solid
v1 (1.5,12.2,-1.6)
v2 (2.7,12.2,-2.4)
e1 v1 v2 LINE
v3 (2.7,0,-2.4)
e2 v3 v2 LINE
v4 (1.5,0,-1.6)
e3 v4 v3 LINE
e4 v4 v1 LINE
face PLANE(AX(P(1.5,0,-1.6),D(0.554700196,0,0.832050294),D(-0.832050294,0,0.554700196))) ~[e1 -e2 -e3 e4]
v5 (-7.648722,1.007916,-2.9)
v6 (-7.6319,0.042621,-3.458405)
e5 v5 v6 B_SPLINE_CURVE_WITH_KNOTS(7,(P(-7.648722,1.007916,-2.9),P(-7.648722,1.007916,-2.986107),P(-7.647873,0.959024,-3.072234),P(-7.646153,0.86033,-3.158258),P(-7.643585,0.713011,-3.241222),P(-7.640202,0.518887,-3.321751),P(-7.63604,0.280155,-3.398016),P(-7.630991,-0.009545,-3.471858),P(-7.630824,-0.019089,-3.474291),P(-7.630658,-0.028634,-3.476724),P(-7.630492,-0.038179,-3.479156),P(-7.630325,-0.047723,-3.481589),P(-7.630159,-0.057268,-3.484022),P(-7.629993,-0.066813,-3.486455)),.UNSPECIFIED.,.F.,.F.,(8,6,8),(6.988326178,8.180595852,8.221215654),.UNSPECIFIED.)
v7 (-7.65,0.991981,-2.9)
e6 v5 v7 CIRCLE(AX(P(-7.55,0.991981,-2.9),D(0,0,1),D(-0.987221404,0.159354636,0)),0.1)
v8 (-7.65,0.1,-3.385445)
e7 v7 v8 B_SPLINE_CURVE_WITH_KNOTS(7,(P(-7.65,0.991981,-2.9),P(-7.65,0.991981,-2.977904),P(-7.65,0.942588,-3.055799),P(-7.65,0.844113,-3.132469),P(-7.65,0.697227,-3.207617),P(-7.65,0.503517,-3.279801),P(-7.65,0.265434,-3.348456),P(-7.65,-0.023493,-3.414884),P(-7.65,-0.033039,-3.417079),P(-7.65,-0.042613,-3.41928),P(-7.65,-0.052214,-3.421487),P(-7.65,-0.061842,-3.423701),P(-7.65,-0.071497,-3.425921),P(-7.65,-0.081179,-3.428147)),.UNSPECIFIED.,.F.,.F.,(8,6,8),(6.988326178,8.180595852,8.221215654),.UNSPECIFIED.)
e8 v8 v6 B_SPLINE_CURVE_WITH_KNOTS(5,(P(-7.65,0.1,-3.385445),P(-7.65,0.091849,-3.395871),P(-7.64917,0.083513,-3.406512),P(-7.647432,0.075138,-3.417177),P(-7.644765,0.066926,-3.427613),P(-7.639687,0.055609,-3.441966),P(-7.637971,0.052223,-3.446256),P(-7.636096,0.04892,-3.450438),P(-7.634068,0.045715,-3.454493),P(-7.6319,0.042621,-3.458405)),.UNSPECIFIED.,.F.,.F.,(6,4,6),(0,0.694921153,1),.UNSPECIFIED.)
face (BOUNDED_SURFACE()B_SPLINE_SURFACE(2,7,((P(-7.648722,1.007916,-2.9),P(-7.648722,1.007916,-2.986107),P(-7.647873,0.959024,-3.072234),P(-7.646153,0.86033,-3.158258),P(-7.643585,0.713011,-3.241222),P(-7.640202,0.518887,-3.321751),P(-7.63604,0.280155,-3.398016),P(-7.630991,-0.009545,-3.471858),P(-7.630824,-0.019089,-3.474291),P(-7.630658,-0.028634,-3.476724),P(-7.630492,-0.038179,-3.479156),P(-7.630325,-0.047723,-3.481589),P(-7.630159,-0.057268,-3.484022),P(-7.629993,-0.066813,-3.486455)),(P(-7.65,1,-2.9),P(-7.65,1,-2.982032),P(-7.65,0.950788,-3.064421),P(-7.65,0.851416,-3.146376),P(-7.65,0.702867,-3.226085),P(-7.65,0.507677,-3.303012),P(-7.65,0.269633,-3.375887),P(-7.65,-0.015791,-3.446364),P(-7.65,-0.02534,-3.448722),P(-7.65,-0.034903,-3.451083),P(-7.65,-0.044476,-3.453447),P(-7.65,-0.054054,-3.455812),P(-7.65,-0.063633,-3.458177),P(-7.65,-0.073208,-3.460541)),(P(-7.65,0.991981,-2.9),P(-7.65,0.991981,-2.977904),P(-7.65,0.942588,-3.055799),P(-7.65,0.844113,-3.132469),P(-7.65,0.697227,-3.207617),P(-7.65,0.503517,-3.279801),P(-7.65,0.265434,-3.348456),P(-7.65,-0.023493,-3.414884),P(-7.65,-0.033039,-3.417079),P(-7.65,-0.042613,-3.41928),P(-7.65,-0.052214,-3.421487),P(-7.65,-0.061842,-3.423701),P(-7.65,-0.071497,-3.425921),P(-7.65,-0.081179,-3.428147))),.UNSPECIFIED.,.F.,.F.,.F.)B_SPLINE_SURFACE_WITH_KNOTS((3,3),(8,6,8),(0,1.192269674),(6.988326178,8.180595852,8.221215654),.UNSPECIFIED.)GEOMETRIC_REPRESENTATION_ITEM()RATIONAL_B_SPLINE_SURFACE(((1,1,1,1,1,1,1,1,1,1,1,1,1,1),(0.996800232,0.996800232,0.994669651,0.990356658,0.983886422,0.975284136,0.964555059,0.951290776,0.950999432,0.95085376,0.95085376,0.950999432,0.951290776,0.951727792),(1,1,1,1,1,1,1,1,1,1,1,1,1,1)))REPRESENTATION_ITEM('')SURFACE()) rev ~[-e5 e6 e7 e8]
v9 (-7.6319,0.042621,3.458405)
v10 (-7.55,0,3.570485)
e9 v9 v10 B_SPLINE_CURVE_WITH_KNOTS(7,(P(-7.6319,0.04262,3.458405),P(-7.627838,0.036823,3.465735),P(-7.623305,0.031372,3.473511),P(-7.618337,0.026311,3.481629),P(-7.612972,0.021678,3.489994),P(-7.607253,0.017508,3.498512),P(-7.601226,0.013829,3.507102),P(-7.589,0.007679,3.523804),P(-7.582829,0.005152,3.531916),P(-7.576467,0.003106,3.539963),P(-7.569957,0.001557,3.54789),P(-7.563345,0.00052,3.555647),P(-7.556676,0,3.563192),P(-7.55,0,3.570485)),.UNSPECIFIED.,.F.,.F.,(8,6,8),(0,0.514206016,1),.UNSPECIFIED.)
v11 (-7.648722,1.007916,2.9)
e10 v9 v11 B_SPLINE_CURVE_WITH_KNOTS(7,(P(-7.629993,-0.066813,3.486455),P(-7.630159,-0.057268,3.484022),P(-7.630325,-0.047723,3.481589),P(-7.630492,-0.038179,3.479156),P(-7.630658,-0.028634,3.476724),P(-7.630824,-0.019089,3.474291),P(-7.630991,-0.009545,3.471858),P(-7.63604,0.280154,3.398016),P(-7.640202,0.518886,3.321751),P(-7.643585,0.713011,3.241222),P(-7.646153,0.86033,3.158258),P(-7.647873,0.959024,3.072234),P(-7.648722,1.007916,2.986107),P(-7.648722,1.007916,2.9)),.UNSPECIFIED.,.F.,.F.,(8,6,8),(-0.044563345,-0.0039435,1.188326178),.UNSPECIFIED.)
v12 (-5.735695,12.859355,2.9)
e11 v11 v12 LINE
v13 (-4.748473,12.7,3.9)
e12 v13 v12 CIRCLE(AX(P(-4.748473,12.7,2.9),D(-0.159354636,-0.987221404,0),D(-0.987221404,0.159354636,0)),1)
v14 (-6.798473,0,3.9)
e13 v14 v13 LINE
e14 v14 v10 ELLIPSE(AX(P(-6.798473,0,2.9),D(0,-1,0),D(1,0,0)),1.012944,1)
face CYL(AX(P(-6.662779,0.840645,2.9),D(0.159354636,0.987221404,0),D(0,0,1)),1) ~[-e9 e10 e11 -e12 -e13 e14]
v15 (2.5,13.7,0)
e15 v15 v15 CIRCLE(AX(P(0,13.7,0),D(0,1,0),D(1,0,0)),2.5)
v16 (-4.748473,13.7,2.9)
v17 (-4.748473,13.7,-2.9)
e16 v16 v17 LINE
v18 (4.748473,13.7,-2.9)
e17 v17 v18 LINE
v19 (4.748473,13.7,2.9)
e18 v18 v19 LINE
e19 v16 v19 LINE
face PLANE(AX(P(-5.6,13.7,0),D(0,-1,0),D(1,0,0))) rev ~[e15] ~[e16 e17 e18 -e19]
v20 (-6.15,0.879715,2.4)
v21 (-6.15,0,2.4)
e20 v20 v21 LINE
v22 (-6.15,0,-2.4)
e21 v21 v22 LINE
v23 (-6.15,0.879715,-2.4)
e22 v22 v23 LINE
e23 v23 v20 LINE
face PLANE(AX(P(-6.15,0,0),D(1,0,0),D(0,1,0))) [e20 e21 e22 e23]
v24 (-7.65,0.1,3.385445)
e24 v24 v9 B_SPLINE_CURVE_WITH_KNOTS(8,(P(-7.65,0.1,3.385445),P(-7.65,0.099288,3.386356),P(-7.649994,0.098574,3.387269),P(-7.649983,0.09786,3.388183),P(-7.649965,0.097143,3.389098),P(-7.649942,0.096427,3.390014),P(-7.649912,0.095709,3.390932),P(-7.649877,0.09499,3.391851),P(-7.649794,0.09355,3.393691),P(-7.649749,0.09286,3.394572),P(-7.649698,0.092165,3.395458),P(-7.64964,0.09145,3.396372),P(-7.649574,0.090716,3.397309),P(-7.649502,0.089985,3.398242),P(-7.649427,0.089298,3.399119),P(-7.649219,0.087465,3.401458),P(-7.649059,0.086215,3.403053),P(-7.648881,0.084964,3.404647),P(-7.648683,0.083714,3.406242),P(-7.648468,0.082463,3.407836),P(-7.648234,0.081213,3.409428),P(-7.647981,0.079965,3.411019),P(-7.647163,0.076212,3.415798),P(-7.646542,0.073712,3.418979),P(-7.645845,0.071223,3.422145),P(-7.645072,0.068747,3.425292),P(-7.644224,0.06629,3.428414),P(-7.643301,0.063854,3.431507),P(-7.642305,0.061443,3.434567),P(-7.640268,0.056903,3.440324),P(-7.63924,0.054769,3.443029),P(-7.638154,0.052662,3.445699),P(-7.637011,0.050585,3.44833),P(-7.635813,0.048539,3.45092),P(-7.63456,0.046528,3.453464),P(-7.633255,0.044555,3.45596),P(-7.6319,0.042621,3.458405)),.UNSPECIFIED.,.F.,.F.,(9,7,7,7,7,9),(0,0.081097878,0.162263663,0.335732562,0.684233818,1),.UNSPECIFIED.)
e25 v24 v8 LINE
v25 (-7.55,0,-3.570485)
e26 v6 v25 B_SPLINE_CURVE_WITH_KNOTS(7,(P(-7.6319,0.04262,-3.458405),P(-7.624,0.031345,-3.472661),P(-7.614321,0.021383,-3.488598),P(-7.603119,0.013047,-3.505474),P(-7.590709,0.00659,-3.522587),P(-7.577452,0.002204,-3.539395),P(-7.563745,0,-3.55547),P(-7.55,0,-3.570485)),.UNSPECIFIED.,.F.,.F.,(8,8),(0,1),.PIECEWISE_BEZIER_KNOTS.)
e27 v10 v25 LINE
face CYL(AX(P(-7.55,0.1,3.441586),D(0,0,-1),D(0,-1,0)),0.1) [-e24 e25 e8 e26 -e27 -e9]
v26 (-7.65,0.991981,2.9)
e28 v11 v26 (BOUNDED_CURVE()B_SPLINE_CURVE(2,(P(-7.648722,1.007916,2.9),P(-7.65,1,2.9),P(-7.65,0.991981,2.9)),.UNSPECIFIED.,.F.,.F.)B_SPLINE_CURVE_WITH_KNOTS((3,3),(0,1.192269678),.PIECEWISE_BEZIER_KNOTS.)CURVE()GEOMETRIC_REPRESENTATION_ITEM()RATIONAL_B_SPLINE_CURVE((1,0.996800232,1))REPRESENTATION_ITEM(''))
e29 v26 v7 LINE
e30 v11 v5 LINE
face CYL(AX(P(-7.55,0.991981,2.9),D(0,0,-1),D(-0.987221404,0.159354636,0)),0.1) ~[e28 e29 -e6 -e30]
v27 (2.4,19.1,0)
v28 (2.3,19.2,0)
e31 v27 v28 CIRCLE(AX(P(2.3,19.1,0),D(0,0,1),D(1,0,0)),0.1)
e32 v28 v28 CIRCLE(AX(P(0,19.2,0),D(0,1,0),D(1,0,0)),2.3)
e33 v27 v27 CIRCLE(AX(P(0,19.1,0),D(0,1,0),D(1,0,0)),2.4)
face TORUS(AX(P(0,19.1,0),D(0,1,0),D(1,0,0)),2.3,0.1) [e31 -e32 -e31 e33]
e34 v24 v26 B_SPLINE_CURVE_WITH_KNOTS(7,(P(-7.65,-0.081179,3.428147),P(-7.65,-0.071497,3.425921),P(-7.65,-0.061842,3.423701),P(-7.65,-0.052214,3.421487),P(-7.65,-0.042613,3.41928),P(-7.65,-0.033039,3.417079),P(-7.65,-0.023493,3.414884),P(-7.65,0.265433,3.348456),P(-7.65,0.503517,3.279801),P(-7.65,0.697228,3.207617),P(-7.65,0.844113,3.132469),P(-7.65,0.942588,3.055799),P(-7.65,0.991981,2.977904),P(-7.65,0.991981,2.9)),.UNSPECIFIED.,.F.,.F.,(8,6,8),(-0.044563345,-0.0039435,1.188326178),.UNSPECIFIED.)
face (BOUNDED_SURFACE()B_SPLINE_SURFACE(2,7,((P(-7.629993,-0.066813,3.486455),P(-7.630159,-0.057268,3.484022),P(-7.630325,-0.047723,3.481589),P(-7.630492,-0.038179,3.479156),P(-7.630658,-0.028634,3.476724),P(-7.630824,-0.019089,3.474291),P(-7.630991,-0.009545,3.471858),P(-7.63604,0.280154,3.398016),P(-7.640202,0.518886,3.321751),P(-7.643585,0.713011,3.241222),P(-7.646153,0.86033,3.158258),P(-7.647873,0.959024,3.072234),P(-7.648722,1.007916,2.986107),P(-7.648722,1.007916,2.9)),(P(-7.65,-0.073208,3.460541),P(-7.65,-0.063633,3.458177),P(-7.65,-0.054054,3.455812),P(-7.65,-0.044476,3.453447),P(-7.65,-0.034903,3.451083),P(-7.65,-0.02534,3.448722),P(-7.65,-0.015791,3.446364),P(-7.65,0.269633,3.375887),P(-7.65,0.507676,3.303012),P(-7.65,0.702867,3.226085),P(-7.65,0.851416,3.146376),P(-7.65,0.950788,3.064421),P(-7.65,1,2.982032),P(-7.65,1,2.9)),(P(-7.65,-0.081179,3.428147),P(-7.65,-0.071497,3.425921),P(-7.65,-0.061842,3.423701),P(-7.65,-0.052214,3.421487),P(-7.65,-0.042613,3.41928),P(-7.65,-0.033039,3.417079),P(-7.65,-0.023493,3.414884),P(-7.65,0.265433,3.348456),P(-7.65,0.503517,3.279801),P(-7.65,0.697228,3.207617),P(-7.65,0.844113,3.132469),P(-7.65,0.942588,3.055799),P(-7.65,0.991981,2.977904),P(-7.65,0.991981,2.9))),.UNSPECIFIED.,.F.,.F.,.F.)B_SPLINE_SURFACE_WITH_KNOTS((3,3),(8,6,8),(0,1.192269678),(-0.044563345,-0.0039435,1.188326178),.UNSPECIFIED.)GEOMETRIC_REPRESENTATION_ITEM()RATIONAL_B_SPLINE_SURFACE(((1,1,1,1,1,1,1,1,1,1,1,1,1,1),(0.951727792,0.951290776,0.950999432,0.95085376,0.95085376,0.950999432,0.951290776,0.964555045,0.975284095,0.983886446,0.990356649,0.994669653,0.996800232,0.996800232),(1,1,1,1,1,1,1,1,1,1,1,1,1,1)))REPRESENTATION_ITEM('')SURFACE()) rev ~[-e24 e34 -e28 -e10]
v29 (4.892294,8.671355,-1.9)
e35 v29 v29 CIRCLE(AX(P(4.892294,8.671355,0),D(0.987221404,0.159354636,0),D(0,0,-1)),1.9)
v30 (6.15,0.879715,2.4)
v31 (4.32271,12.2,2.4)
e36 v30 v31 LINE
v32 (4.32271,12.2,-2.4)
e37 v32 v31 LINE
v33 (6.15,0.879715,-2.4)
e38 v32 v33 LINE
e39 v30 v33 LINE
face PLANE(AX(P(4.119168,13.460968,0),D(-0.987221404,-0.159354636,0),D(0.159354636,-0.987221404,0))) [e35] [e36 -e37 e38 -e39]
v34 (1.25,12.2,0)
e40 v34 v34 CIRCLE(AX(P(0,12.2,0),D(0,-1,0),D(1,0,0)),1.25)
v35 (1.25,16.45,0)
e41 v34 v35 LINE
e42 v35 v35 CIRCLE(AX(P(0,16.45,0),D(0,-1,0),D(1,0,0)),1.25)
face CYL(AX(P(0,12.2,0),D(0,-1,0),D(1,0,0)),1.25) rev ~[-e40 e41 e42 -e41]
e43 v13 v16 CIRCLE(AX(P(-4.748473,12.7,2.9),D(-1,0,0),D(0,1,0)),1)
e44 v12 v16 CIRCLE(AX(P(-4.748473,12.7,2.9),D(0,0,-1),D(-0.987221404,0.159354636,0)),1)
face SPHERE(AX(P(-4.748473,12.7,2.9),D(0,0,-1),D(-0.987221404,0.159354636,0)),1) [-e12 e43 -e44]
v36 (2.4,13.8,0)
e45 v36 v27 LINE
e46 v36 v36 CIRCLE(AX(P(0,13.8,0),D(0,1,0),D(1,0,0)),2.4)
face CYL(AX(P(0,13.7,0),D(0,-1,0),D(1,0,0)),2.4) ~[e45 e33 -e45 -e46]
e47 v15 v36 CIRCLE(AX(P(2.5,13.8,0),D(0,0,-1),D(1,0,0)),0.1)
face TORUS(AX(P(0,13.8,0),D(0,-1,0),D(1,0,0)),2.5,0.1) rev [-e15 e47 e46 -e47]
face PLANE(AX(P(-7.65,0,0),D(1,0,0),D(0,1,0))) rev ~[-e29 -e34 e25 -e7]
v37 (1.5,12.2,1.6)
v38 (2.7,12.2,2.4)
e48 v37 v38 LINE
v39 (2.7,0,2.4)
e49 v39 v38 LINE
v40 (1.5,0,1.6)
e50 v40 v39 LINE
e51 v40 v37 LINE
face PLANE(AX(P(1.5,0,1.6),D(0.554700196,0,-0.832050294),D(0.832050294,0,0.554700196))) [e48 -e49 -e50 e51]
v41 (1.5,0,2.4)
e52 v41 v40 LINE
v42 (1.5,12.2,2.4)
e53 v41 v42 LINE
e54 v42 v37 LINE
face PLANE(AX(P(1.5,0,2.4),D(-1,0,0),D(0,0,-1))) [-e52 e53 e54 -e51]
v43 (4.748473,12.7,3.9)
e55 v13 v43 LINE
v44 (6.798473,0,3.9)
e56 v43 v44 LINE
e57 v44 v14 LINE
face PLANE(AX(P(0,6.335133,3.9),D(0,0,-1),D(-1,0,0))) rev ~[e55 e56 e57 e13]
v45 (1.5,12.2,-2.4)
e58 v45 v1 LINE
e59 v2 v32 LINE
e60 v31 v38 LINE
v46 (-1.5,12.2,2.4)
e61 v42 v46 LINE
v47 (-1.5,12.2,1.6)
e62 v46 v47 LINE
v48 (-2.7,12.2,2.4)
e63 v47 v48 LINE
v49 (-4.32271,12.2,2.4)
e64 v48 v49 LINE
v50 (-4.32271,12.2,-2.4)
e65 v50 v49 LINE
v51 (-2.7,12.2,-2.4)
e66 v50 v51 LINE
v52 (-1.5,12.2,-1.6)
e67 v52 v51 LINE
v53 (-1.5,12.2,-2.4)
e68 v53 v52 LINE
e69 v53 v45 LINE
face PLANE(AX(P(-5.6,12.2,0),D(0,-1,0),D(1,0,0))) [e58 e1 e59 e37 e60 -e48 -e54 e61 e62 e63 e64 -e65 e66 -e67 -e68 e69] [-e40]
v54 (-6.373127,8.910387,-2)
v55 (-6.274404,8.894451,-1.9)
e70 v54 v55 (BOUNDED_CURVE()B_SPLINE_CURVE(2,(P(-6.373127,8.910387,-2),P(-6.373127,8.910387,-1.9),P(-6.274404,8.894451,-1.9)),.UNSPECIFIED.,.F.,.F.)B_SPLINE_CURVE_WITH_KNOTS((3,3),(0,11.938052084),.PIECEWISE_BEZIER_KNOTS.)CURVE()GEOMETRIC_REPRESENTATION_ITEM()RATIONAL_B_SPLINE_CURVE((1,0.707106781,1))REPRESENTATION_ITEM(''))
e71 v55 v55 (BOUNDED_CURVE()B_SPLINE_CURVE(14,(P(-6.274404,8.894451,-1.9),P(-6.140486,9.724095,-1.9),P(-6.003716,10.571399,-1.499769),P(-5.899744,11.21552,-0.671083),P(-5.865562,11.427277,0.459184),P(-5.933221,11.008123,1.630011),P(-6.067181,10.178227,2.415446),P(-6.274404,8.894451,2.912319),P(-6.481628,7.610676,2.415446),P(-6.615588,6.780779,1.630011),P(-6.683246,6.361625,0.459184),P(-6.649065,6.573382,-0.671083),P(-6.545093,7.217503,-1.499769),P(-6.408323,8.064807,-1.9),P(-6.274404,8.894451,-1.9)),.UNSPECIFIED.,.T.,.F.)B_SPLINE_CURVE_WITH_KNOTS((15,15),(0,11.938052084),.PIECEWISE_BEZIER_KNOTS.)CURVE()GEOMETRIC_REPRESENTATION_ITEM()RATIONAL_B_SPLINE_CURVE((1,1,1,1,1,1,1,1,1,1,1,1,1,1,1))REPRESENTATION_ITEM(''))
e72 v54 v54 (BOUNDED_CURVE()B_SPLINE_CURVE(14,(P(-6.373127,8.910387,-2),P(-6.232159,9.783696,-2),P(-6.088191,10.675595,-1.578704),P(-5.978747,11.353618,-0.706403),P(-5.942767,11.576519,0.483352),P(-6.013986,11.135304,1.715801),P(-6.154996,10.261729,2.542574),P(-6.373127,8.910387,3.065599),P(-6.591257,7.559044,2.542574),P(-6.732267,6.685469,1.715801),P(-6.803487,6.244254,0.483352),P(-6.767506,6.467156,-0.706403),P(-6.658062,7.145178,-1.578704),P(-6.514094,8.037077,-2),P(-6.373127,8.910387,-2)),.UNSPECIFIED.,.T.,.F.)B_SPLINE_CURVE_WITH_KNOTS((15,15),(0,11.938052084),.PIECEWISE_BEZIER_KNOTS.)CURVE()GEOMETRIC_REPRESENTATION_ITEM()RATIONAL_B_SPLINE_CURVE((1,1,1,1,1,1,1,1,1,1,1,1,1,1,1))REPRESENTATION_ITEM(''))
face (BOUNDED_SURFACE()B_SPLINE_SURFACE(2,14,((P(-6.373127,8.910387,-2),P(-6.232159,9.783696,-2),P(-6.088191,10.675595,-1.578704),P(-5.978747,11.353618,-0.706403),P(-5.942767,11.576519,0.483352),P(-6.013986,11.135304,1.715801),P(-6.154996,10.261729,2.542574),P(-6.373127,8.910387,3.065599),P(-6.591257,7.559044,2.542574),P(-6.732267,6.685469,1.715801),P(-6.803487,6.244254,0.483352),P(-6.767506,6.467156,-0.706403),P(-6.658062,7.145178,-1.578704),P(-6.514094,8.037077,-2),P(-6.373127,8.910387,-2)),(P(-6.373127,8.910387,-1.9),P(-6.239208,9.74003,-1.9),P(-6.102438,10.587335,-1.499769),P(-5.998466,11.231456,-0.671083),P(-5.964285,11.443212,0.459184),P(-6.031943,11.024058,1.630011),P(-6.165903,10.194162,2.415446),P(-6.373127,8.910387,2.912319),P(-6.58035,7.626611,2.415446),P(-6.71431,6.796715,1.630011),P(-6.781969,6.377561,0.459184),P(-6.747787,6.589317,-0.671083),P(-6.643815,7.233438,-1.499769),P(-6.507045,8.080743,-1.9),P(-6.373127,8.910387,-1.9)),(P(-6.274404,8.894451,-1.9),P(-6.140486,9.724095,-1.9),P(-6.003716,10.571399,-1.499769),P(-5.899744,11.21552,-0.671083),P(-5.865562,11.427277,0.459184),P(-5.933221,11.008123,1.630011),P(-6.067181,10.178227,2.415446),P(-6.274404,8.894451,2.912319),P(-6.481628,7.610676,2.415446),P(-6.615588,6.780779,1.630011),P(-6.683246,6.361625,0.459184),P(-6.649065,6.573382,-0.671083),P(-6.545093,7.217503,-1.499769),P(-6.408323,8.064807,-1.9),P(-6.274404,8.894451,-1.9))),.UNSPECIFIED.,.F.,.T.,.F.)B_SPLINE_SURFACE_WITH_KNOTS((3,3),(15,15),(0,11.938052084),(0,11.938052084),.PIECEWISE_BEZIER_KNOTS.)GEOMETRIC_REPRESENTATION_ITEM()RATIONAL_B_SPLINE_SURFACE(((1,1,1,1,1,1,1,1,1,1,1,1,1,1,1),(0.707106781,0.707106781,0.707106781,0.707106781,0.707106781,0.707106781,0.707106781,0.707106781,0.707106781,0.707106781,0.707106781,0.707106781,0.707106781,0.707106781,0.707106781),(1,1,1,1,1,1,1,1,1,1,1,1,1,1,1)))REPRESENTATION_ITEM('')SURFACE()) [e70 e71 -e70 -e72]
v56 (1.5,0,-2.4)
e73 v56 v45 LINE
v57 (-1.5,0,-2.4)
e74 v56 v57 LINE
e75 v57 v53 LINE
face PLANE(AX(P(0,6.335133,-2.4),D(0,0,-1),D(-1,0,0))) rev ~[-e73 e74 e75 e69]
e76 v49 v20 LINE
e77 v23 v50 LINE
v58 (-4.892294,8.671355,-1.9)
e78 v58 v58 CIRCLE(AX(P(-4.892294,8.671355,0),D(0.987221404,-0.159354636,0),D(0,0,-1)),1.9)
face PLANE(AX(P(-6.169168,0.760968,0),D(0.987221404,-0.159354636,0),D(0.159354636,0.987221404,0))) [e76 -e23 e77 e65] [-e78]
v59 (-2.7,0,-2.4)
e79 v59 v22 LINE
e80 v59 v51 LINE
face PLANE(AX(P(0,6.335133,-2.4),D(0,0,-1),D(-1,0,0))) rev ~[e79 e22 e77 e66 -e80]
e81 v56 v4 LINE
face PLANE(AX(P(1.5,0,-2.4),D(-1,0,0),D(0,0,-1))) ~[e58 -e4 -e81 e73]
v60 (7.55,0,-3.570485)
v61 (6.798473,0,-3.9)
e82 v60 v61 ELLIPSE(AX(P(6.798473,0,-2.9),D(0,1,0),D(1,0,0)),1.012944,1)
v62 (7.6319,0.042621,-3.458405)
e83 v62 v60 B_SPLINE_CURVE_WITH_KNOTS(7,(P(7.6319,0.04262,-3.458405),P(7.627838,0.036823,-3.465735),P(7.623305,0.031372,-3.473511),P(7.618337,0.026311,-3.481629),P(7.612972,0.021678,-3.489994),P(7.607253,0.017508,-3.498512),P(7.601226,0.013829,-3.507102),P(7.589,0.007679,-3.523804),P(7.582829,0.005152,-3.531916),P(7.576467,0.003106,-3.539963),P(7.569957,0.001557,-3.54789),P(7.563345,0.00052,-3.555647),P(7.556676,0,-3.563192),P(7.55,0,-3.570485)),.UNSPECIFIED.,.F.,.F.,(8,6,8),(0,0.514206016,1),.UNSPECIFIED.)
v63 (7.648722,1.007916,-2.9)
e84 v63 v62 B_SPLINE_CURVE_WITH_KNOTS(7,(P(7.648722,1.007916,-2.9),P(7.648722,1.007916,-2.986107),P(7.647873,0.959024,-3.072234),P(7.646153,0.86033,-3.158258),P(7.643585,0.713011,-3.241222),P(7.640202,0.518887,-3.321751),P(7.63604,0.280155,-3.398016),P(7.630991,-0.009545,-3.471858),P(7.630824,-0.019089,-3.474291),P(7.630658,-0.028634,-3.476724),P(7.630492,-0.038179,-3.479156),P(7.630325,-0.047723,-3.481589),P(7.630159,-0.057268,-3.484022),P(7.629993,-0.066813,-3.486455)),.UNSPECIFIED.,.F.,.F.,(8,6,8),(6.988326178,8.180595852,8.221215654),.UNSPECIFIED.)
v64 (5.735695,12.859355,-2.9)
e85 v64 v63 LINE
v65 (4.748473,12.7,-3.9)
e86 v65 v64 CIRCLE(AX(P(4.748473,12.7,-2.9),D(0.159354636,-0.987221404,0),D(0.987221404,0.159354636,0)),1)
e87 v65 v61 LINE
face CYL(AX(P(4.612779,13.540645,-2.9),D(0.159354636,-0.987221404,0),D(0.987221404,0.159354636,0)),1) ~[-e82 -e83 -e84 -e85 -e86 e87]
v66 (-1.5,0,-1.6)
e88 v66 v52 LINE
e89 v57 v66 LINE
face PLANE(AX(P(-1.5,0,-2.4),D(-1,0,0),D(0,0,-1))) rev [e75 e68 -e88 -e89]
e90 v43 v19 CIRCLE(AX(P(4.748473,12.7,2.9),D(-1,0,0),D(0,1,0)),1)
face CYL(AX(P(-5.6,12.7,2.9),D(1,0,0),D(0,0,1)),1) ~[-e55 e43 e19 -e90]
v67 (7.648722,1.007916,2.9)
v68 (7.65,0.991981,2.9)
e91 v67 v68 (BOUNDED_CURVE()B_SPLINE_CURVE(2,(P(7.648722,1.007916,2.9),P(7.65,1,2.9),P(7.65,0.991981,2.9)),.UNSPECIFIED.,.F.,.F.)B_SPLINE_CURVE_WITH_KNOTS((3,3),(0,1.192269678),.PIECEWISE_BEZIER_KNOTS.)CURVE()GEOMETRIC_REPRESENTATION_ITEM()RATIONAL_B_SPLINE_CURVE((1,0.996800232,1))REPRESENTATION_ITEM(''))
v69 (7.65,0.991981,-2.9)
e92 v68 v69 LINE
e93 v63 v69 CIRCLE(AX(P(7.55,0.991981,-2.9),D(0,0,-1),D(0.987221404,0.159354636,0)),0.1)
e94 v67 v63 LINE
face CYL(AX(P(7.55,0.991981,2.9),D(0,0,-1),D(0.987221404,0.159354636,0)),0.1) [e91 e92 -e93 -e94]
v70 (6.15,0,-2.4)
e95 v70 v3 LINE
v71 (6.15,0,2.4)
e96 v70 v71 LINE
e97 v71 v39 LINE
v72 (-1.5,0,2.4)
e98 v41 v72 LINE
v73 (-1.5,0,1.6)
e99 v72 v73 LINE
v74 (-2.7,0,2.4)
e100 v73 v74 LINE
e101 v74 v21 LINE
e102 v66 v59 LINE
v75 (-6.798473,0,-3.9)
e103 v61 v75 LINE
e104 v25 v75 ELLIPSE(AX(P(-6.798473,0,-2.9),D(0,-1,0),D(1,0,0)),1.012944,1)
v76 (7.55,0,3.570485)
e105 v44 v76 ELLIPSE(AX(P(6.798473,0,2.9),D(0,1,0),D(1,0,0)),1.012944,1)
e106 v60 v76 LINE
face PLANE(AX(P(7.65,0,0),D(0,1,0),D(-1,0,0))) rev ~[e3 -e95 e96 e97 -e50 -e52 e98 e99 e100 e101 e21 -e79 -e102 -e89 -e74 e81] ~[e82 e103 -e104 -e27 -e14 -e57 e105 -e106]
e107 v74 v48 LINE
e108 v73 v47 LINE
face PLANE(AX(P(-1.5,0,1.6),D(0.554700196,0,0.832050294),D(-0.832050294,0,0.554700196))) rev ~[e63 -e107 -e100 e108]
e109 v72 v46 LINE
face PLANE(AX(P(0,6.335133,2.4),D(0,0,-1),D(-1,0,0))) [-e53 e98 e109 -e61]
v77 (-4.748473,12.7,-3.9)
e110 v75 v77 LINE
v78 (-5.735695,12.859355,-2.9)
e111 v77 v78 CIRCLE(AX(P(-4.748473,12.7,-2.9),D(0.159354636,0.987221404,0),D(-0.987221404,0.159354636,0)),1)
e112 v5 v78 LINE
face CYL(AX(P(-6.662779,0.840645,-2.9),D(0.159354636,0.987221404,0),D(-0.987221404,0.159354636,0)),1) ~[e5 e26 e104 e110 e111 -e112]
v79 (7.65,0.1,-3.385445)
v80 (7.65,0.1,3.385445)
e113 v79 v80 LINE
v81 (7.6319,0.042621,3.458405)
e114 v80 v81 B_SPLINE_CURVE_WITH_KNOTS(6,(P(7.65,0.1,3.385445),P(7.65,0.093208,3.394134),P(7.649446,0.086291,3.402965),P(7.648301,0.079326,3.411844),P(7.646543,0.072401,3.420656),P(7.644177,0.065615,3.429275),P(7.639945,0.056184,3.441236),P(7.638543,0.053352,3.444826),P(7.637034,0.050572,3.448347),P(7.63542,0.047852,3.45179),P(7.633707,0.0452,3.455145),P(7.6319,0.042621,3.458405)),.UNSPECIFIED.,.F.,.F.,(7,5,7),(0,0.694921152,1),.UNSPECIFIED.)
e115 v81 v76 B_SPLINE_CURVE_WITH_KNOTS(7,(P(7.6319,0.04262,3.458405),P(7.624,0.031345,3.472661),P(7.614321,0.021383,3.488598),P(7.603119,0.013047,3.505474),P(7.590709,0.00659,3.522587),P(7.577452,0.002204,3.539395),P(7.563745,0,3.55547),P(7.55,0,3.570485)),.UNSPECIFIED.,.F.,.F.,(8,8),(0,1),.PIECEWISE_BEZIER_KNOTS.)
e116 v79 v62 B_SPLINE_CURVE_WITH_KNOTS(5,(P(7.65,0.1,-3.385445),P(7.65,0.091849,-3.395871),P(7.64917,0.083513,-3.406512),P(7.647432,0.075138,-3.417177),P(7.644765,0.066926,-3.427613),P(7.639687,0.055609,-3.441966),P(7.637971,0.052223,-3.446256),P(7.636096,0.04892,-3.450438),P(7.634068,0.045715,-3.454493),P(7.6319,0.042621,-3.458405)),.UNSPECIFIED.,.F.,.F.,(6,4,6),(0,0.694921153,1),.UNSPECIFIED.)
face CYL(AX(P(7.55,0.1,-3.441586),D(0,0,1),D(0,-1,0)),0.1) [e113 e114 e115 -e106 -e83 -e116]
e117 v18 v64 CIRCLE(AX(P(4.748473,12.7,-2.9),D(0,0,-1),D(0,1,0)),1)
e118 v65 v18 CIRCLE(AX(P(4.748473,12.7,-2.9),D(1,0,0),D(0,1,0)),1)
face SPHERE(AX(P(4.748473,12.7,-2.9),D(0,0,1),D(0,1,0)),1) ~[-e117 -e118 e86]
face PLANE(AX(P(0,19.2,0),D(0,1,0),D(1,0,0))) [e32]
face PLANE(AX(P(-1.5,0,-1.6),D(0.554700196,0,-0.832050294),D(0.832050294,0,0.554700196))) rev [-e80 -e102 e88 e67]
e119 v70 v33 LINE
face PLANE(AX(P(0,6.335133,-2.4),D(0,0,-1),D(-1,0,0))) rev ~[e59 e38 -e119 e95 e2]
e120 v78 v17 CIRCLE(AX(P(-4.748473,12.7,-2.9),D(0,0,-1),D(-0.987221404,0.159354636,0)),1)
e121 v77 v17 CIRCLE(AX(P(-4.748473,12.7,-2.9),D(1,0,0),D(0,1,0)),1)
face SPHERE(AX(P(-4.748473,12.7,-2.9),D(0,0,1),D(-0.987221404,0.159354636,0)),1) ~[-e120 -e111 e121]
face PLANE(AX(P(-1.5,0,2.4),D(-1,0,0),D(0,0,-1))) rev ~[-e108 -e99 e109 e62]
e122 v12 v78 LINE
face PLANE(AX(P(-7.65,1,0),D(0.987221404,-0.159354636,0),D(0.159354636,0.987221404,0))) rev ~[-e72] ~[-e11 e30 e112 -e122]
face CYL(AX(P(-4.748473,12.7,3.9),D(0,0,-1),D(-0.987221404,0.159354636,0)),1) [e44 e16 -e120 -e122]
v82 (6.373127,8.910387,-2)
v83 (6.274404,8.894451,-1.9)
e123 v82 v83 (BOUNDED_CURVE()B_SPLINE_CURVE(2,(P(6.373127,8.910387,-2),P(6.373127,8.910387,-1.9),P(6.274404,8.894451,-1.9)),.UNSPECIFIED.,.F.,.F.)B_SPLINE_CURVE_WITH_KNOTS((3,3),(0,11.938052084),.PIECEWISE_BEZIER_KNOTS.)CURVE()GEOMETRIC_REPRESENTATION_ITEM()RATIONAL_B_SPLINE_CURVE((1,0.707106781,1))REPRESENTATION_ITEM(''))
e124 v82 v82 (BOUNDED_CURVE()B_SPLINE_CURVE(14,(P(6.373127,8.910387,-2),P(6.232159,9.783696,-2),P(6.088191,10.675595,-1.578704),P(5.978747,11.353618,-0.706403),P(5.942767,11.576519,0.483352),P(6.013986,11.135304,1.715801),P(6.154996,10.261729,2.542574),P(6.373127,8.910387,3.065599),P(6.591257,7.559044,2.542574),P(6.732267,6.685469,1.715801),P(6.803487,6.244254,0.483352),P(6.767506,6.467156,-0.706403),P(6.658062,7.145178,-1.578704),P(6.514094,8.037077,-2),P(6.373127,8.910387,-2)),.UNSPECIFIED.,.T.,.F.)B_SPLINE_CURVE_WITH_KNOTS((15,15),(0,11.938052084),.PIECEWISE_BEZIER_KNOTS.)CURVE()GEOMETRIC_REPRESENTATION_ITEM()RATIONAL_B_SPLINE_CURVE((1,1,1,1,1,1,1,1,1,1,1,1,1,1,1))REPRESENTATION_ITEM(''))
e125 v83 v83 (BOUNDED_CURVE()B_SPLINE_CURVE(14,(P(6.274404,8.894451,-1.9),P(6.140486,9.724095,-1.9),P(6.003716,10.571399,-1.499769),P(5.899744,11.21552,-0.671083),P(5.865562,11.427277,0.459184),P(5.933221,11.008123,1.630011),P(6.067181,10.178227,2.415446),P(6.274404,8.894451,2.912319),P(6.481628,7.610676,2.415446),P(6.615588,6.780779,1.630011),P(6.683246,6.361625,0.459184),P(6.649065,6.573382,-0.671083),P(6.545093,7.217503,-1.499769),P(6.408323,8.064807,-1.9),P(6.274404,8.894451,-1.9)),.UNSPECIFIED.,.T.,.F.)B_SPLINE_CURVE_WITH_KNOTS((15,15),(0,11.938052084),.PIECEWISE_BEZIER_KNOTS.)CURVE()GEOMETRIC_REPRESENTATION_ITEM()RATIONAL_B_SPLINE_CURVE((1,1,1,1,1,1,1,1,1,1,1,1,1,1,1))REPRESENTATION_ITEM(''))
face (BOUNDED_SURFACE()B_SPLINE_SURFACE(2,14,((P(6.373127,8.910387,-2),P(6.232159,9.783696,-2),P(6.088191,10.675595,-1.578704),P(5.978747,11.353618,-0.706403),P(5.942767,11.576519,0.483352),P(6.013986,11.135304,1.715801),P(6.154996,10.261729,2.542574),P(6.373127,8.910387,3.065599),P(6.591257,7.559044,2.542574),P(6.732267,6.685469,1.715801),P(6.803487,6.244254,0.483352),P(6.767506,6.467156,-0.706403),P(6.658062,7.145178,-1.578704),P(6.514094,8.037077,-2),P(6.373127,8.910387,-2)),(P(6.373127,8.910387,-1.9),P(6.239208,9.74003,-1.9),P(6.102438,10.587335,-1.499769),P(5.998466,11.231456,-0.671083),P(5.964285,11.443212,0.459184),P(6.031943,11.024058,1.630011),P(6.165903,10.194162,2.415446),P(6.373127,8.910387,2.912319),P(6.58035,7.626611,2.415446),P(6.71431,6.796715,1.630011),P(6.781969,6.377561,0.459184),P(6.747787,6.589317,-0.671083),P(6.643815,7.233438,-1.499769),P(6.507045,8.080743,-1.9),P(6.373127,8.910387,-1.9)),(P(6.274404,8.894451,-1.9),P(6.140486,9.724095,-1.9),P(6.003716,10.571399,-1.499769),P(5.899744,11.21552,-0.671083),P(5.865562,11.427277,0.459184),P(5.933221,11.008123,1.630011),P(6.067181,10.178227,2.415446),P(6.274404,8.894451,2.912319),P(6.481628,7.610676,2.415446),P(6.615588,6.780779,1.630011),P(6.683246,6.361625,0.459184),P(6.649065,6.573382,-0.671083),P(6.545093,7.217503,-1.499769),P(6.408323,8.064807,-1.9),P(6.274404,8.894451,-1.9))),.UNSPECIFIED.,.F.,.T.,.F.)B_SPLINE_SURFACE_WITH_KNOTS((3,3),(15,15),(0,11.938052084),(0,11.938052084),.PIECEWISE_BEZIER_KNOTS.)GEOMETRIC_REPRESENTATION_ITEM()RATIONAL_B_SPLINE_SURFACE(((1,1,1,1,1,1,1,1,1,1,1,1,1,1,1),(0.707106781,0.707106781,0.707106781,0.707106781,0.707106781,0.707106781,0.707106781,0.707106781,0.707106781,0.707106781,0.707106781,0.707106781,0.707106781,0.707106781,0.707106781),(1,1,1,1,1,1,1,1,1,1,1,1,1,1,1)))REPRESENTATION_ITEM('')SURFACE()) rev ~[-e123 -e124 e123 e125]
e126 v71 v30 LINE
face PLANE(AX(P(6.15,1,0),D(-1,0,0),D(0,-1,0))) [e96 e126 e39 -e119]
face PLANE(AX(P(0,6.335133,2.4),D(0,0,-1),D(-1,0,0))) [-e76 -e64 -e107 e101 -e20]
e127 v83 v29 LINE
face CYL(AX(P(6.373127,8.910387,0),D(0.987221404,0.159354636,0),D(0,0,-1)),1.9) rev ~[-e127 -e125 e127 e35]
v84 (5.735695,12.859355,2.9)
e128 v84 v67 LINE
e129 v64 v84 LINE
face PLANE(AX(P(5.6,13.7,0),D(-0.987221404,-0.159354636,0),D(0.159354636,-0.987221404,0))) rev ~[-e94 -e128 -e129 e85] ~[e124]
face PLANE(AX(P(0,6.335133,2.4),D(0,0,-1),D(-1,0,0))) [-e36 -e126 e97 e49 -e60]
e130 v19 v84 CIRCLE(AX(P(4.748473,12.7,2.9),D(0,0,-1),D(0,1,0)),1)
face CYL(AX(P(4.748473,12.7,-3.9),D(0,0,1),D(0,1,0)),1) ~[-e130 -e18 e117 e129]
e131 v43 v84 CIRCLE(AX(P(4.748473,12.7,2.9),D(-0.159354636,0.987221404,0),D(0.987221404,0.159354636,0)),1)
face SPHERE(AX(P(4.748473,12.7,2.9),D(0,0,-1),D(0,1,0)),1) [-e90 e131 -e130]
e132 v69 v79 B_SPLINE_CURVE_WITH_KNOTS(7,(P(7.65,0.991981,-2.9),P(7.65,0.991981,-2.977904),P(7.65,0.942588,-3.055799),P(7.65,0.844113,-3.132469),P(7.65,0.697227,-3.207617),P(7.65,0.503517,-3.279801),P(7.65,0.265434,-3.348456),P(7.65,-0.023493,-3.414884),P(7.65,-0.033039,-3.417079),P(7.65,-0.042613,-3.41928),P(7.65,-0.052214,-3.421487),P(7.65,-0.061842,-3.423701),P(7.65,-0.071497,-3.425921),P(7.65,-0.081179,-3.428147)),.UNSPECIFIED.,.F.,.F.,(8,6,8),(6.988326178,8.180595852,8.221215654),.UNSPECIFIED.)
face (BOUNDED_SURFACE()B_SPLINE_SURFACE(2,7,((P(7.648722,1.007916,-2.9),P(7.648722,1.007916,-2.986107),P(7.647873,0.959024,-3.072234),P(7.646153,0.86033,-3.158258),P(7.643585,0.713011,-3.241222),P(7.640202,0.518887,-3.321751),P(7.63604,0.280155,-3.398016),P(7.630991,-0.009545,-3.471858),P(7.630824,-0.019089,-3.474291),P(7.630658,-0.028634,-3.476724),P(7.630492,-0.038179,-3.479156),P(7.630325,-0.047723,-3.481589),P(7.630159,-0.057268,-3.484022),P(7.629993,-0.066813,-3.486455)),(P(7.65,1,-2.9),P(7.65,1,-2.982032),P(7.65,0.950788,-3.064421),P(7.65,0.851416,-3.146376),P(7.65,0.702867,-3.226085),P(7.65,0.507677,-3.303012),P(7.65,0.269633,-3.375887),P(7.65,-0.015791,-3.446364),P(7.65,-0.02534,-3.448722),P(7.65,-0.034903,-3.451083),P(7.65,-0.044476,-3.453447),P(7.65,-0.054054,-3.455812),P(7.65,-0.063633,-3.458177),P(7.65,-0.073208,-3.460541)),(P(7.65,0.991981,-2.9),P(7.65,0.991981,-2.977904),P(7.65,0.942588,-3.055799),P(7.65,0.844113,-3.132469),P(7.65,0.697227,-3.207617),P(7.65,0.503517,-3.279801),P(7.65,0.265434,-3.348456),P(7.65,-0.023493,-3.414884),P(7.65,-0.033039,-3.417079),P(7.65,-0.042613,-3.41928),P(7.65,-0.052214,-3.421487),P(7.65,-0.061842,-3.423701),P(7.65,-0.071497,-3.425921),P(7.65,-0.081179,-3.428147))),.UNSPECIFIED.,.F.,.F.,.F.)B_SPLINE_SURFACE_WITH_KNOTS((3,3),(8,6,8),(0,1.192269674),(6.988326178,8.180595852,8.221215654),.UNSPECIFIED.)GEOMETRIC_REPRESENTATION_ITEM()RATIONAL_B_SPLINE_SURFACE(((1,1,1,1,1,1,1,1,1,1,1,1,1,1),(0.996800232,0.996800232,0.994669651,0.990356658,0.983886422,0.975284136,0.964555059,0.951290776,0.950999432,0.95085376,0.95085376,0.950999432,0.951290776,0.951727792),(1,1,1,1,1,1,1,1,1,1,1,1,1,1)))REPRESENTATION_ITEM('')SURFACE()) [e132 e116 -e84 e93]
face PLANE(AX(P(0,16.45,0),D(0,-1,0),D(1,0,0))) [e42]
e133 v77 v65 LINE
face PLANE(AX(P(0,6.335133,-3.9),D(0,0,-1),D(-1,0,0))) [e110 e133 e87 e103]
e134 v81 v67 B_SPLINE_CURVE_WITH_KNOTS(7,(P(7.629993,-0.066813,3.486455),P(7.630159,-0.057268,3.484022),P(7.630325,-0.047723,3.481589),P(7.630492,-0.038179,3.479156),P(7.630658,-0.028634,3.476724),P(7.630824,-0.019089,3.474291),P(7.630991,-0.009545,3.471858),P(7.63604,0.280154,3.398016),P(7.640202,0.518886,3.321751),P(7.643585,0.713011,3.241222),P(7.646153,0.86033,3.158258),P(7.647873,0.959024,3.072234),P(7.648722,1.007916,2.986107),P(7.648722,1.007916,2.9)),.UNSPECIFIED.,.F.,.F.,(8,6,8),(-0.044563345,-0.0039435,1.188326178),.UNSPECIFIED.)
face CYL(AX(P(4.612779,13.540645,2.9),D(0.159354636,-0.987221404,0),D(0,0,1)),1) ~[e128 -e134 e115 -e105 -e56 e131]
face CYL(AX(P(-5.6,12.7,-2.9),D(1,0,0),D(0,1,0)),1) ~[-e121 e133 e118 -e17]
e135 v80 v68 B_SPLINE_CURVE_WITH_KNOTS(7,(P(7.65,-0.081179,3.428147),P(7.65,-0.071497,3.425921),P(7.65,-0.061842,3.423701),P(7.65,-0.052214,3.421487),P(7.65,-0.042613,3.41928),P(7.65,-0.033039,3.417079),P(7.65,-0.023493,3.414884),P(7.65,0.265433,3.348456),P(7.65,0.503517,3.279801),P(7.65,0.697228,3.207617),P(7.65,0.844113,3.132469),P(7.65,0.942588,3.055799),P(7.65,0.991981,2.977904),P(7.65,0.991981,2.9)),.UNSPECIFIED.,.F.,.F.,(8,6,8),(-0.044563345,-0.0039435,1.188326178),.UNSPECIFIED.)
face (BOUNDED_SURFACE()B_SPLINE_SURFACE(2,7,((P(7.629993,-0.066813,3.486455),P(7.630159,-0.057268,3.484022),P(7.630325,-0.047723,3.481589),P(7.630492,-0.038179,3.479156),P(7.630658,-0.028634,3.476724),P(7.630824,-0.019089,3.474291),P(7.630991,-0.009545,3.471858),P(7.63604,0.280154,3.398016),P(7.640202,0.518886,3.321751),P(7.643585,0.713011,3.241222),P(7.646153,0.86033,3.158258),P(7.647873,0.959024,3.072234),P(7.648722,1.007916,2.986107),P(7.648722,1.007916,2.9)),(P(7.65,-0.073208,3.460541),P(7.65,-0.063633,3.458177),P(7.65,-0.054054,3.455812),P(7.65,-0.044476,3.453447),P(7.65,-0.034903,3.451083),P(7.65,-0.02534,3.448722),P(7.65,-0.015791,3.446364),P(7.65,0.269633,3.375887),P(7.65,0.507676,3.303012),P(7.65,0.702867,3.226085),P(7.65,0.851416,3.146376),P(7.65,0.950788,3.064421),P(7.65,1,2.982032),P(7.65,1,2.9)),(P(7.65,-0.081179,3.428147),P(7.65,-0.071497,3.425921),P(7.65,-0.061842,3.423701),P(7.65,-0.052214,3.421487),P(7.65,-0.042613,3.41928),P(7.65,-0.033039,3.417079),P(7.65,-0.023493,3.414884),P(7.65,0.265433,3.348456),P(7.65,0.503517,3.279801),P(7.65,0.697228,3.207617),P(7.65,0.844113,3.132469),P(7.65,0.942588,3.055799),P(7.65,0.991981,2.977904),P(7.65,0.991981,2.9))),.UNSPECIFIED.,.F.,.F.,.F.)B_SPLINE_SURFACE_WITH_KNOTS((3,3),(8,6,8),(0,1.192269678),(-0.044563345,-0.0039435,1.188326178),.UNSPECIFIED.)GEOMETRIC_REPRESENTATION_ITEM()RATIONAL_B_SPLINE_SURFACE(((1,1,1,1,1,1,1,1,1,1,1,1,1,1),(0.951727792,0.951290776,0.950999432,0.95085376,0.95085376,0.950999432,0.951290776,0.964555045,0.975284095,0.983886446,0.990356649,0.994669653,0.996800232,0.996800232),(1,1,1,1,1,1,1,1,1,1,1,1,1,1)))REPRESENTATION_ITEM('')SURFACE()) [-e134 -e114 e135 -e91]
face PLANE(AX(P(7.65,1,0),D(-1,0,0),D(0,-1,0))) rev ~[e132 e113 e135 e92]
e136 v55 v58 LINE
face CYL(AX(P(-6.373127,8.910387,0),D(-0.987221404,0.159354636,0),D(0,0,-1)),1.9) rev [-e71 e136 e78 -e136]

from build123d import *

# Parameters (mm, degrees)
SALIENTE_EXTRUIR1_DEPTH = 3.9
VACIADO1_T              = -1.5
CROQUIS2_R              = 1.9
CORTAR_EXTRUIR1_DEPTH   = 1.5
SALIENTE_EXTRUIR2_DEPTH = 12.2
CROQUIS4_R              = 2.4
SALIENTE_EXTRUIR3_DEPTH = 5.5
CROQUIS5_R              = 1.25
CORTAR_EXTRUIR2_DEPTH   = 4.25
REDONDEO1_R             = 1
REDONDEO2_R             = 0.1


with BuildPart() as part:
    # Croquis1 → Saliente-Extruir1 (new body, symmetric)
    with BuildSketch(Plane.XY):
        Polygon((7.65, 0), (-7.65, 0), (-7.65, 1), (-5.6, 13.7), (5.6, 13.7), (7.65, 1), align=None)
    extrude(amount=SALIENTE_EXTRUIR1_DEPTH, both=True)

    # Vaciado1
    vaciado1_openings = [part.faces().sort_by_distance(p)[0] for p in [
        (0, 0, 0),
    ]]
    offset(amount=VACIADO1_T, openings=vaciado1_openings, kind=Kind.INTERSECTION)

    # Croquis2 → Cortar-Extruir1 (cut)
    with BuildSketch(Plane(origin=(7.613054972, 1.228878952, 0), x_dir=(0, 0, -1), z_dir=(0.987221404, 0.159354636, 0))):
        with Locations((0, 7.780937034)):
            Circle(CROQUIS2_R)
    cortar_extruir1 = extrude(amount=-CORTAR_EXTRUIR1_DEPTH, mode=Mode.SUBTRACT)

    # Simetría1: Cortar-Extruir1 across plane
    add(cortar_extruir1.mirror(Plane(origin=(0, 0, 0), x_dir=(0, 0, 1), z_dir=(1, 0, 0))), mode=Mode.SUBTRACT)

    # Croquis3 → Saliente-Extruir2 (add)
    with BuildSketch(Plane.XZ):
        Polygon((1.5, 2.4), (1.5, 1.6), (2.7, 2.4), align=None)
        Polygon((-1.5, 1.6), (-2.7, 2.4), (-1.5, 2.4), align=None)
    saliente_extruir2 = extrude(amount=-SALIENTE_EXTRUIR2_DEPTH)

    # Simetría2: Saliente-Extruir2 across plane
    add(saliente_extruir2.mirror(Plane.XY))

    # Croquis4 → Saliente-Extruir3 (add)
    with BuildSketch(Plane(origin=(0, 13.7, 0), x_dir=(1, 0, 0), z_dir=(0, 1, 0))):
        Circle(CROQUIS4_R)
    extrude(amount=SALIENTE_EXTRUIR3_DEPTH)

    # Croquis5 → Cortar-Extruir2 (cut)
    with BuildSketch(Plane.XZ.offset(-12.2)):
        Circle(CROQUIS5_R)
    extrude(amount=-CORTAR_EXTRUIR2_DEPTH, mode=Mode.SUBTRACT)

    # Redondeo1
    redondeo1_edges = [part.edges().sort_by_distance(p)[0] for p in [
        (6.625, 7.35, -3.9),
        (-6.625, 7.35, -3.9),
        (-6.625, 7.35, 3.9),
        (6.625, 7.35, 3.9),
        (5.6, 13.7, 0),
        (0, 13.7, -3.9),
        (0, 13.7, 3.9),
        (-5.6, 13.7, 0),
    ]]
    fillet(redondeo1_edges, radius=REDONDEO1_R)

    # Redondeo2
    redondeo2_edges = [part.edges().sort_by_distance(p)[0] for p in [
        (-7.65, 0.566832693, 3.265088592),
        (-7.65, 0, 0),
        (-7.65, 0.566832693, -3.265088592),
        (-7.65, 1, 0),
        (7.65, 0.566832693, 3.265088592),
        (7.65, 1, 0),
        (7.65, 0.566832693, -3.265088592),
        (7.65, 0, 0),
        (-2.4, 13.7, 0),
        (-2.4, 19.2, 0),
        (-6.373126583, 8.910386534, 1.9),
        (6.373126583, 8.910386534, 1.9),
    ]]
    fillet(redondeo2_edges, radius=REDONDEO2_R)


solid = part.part
